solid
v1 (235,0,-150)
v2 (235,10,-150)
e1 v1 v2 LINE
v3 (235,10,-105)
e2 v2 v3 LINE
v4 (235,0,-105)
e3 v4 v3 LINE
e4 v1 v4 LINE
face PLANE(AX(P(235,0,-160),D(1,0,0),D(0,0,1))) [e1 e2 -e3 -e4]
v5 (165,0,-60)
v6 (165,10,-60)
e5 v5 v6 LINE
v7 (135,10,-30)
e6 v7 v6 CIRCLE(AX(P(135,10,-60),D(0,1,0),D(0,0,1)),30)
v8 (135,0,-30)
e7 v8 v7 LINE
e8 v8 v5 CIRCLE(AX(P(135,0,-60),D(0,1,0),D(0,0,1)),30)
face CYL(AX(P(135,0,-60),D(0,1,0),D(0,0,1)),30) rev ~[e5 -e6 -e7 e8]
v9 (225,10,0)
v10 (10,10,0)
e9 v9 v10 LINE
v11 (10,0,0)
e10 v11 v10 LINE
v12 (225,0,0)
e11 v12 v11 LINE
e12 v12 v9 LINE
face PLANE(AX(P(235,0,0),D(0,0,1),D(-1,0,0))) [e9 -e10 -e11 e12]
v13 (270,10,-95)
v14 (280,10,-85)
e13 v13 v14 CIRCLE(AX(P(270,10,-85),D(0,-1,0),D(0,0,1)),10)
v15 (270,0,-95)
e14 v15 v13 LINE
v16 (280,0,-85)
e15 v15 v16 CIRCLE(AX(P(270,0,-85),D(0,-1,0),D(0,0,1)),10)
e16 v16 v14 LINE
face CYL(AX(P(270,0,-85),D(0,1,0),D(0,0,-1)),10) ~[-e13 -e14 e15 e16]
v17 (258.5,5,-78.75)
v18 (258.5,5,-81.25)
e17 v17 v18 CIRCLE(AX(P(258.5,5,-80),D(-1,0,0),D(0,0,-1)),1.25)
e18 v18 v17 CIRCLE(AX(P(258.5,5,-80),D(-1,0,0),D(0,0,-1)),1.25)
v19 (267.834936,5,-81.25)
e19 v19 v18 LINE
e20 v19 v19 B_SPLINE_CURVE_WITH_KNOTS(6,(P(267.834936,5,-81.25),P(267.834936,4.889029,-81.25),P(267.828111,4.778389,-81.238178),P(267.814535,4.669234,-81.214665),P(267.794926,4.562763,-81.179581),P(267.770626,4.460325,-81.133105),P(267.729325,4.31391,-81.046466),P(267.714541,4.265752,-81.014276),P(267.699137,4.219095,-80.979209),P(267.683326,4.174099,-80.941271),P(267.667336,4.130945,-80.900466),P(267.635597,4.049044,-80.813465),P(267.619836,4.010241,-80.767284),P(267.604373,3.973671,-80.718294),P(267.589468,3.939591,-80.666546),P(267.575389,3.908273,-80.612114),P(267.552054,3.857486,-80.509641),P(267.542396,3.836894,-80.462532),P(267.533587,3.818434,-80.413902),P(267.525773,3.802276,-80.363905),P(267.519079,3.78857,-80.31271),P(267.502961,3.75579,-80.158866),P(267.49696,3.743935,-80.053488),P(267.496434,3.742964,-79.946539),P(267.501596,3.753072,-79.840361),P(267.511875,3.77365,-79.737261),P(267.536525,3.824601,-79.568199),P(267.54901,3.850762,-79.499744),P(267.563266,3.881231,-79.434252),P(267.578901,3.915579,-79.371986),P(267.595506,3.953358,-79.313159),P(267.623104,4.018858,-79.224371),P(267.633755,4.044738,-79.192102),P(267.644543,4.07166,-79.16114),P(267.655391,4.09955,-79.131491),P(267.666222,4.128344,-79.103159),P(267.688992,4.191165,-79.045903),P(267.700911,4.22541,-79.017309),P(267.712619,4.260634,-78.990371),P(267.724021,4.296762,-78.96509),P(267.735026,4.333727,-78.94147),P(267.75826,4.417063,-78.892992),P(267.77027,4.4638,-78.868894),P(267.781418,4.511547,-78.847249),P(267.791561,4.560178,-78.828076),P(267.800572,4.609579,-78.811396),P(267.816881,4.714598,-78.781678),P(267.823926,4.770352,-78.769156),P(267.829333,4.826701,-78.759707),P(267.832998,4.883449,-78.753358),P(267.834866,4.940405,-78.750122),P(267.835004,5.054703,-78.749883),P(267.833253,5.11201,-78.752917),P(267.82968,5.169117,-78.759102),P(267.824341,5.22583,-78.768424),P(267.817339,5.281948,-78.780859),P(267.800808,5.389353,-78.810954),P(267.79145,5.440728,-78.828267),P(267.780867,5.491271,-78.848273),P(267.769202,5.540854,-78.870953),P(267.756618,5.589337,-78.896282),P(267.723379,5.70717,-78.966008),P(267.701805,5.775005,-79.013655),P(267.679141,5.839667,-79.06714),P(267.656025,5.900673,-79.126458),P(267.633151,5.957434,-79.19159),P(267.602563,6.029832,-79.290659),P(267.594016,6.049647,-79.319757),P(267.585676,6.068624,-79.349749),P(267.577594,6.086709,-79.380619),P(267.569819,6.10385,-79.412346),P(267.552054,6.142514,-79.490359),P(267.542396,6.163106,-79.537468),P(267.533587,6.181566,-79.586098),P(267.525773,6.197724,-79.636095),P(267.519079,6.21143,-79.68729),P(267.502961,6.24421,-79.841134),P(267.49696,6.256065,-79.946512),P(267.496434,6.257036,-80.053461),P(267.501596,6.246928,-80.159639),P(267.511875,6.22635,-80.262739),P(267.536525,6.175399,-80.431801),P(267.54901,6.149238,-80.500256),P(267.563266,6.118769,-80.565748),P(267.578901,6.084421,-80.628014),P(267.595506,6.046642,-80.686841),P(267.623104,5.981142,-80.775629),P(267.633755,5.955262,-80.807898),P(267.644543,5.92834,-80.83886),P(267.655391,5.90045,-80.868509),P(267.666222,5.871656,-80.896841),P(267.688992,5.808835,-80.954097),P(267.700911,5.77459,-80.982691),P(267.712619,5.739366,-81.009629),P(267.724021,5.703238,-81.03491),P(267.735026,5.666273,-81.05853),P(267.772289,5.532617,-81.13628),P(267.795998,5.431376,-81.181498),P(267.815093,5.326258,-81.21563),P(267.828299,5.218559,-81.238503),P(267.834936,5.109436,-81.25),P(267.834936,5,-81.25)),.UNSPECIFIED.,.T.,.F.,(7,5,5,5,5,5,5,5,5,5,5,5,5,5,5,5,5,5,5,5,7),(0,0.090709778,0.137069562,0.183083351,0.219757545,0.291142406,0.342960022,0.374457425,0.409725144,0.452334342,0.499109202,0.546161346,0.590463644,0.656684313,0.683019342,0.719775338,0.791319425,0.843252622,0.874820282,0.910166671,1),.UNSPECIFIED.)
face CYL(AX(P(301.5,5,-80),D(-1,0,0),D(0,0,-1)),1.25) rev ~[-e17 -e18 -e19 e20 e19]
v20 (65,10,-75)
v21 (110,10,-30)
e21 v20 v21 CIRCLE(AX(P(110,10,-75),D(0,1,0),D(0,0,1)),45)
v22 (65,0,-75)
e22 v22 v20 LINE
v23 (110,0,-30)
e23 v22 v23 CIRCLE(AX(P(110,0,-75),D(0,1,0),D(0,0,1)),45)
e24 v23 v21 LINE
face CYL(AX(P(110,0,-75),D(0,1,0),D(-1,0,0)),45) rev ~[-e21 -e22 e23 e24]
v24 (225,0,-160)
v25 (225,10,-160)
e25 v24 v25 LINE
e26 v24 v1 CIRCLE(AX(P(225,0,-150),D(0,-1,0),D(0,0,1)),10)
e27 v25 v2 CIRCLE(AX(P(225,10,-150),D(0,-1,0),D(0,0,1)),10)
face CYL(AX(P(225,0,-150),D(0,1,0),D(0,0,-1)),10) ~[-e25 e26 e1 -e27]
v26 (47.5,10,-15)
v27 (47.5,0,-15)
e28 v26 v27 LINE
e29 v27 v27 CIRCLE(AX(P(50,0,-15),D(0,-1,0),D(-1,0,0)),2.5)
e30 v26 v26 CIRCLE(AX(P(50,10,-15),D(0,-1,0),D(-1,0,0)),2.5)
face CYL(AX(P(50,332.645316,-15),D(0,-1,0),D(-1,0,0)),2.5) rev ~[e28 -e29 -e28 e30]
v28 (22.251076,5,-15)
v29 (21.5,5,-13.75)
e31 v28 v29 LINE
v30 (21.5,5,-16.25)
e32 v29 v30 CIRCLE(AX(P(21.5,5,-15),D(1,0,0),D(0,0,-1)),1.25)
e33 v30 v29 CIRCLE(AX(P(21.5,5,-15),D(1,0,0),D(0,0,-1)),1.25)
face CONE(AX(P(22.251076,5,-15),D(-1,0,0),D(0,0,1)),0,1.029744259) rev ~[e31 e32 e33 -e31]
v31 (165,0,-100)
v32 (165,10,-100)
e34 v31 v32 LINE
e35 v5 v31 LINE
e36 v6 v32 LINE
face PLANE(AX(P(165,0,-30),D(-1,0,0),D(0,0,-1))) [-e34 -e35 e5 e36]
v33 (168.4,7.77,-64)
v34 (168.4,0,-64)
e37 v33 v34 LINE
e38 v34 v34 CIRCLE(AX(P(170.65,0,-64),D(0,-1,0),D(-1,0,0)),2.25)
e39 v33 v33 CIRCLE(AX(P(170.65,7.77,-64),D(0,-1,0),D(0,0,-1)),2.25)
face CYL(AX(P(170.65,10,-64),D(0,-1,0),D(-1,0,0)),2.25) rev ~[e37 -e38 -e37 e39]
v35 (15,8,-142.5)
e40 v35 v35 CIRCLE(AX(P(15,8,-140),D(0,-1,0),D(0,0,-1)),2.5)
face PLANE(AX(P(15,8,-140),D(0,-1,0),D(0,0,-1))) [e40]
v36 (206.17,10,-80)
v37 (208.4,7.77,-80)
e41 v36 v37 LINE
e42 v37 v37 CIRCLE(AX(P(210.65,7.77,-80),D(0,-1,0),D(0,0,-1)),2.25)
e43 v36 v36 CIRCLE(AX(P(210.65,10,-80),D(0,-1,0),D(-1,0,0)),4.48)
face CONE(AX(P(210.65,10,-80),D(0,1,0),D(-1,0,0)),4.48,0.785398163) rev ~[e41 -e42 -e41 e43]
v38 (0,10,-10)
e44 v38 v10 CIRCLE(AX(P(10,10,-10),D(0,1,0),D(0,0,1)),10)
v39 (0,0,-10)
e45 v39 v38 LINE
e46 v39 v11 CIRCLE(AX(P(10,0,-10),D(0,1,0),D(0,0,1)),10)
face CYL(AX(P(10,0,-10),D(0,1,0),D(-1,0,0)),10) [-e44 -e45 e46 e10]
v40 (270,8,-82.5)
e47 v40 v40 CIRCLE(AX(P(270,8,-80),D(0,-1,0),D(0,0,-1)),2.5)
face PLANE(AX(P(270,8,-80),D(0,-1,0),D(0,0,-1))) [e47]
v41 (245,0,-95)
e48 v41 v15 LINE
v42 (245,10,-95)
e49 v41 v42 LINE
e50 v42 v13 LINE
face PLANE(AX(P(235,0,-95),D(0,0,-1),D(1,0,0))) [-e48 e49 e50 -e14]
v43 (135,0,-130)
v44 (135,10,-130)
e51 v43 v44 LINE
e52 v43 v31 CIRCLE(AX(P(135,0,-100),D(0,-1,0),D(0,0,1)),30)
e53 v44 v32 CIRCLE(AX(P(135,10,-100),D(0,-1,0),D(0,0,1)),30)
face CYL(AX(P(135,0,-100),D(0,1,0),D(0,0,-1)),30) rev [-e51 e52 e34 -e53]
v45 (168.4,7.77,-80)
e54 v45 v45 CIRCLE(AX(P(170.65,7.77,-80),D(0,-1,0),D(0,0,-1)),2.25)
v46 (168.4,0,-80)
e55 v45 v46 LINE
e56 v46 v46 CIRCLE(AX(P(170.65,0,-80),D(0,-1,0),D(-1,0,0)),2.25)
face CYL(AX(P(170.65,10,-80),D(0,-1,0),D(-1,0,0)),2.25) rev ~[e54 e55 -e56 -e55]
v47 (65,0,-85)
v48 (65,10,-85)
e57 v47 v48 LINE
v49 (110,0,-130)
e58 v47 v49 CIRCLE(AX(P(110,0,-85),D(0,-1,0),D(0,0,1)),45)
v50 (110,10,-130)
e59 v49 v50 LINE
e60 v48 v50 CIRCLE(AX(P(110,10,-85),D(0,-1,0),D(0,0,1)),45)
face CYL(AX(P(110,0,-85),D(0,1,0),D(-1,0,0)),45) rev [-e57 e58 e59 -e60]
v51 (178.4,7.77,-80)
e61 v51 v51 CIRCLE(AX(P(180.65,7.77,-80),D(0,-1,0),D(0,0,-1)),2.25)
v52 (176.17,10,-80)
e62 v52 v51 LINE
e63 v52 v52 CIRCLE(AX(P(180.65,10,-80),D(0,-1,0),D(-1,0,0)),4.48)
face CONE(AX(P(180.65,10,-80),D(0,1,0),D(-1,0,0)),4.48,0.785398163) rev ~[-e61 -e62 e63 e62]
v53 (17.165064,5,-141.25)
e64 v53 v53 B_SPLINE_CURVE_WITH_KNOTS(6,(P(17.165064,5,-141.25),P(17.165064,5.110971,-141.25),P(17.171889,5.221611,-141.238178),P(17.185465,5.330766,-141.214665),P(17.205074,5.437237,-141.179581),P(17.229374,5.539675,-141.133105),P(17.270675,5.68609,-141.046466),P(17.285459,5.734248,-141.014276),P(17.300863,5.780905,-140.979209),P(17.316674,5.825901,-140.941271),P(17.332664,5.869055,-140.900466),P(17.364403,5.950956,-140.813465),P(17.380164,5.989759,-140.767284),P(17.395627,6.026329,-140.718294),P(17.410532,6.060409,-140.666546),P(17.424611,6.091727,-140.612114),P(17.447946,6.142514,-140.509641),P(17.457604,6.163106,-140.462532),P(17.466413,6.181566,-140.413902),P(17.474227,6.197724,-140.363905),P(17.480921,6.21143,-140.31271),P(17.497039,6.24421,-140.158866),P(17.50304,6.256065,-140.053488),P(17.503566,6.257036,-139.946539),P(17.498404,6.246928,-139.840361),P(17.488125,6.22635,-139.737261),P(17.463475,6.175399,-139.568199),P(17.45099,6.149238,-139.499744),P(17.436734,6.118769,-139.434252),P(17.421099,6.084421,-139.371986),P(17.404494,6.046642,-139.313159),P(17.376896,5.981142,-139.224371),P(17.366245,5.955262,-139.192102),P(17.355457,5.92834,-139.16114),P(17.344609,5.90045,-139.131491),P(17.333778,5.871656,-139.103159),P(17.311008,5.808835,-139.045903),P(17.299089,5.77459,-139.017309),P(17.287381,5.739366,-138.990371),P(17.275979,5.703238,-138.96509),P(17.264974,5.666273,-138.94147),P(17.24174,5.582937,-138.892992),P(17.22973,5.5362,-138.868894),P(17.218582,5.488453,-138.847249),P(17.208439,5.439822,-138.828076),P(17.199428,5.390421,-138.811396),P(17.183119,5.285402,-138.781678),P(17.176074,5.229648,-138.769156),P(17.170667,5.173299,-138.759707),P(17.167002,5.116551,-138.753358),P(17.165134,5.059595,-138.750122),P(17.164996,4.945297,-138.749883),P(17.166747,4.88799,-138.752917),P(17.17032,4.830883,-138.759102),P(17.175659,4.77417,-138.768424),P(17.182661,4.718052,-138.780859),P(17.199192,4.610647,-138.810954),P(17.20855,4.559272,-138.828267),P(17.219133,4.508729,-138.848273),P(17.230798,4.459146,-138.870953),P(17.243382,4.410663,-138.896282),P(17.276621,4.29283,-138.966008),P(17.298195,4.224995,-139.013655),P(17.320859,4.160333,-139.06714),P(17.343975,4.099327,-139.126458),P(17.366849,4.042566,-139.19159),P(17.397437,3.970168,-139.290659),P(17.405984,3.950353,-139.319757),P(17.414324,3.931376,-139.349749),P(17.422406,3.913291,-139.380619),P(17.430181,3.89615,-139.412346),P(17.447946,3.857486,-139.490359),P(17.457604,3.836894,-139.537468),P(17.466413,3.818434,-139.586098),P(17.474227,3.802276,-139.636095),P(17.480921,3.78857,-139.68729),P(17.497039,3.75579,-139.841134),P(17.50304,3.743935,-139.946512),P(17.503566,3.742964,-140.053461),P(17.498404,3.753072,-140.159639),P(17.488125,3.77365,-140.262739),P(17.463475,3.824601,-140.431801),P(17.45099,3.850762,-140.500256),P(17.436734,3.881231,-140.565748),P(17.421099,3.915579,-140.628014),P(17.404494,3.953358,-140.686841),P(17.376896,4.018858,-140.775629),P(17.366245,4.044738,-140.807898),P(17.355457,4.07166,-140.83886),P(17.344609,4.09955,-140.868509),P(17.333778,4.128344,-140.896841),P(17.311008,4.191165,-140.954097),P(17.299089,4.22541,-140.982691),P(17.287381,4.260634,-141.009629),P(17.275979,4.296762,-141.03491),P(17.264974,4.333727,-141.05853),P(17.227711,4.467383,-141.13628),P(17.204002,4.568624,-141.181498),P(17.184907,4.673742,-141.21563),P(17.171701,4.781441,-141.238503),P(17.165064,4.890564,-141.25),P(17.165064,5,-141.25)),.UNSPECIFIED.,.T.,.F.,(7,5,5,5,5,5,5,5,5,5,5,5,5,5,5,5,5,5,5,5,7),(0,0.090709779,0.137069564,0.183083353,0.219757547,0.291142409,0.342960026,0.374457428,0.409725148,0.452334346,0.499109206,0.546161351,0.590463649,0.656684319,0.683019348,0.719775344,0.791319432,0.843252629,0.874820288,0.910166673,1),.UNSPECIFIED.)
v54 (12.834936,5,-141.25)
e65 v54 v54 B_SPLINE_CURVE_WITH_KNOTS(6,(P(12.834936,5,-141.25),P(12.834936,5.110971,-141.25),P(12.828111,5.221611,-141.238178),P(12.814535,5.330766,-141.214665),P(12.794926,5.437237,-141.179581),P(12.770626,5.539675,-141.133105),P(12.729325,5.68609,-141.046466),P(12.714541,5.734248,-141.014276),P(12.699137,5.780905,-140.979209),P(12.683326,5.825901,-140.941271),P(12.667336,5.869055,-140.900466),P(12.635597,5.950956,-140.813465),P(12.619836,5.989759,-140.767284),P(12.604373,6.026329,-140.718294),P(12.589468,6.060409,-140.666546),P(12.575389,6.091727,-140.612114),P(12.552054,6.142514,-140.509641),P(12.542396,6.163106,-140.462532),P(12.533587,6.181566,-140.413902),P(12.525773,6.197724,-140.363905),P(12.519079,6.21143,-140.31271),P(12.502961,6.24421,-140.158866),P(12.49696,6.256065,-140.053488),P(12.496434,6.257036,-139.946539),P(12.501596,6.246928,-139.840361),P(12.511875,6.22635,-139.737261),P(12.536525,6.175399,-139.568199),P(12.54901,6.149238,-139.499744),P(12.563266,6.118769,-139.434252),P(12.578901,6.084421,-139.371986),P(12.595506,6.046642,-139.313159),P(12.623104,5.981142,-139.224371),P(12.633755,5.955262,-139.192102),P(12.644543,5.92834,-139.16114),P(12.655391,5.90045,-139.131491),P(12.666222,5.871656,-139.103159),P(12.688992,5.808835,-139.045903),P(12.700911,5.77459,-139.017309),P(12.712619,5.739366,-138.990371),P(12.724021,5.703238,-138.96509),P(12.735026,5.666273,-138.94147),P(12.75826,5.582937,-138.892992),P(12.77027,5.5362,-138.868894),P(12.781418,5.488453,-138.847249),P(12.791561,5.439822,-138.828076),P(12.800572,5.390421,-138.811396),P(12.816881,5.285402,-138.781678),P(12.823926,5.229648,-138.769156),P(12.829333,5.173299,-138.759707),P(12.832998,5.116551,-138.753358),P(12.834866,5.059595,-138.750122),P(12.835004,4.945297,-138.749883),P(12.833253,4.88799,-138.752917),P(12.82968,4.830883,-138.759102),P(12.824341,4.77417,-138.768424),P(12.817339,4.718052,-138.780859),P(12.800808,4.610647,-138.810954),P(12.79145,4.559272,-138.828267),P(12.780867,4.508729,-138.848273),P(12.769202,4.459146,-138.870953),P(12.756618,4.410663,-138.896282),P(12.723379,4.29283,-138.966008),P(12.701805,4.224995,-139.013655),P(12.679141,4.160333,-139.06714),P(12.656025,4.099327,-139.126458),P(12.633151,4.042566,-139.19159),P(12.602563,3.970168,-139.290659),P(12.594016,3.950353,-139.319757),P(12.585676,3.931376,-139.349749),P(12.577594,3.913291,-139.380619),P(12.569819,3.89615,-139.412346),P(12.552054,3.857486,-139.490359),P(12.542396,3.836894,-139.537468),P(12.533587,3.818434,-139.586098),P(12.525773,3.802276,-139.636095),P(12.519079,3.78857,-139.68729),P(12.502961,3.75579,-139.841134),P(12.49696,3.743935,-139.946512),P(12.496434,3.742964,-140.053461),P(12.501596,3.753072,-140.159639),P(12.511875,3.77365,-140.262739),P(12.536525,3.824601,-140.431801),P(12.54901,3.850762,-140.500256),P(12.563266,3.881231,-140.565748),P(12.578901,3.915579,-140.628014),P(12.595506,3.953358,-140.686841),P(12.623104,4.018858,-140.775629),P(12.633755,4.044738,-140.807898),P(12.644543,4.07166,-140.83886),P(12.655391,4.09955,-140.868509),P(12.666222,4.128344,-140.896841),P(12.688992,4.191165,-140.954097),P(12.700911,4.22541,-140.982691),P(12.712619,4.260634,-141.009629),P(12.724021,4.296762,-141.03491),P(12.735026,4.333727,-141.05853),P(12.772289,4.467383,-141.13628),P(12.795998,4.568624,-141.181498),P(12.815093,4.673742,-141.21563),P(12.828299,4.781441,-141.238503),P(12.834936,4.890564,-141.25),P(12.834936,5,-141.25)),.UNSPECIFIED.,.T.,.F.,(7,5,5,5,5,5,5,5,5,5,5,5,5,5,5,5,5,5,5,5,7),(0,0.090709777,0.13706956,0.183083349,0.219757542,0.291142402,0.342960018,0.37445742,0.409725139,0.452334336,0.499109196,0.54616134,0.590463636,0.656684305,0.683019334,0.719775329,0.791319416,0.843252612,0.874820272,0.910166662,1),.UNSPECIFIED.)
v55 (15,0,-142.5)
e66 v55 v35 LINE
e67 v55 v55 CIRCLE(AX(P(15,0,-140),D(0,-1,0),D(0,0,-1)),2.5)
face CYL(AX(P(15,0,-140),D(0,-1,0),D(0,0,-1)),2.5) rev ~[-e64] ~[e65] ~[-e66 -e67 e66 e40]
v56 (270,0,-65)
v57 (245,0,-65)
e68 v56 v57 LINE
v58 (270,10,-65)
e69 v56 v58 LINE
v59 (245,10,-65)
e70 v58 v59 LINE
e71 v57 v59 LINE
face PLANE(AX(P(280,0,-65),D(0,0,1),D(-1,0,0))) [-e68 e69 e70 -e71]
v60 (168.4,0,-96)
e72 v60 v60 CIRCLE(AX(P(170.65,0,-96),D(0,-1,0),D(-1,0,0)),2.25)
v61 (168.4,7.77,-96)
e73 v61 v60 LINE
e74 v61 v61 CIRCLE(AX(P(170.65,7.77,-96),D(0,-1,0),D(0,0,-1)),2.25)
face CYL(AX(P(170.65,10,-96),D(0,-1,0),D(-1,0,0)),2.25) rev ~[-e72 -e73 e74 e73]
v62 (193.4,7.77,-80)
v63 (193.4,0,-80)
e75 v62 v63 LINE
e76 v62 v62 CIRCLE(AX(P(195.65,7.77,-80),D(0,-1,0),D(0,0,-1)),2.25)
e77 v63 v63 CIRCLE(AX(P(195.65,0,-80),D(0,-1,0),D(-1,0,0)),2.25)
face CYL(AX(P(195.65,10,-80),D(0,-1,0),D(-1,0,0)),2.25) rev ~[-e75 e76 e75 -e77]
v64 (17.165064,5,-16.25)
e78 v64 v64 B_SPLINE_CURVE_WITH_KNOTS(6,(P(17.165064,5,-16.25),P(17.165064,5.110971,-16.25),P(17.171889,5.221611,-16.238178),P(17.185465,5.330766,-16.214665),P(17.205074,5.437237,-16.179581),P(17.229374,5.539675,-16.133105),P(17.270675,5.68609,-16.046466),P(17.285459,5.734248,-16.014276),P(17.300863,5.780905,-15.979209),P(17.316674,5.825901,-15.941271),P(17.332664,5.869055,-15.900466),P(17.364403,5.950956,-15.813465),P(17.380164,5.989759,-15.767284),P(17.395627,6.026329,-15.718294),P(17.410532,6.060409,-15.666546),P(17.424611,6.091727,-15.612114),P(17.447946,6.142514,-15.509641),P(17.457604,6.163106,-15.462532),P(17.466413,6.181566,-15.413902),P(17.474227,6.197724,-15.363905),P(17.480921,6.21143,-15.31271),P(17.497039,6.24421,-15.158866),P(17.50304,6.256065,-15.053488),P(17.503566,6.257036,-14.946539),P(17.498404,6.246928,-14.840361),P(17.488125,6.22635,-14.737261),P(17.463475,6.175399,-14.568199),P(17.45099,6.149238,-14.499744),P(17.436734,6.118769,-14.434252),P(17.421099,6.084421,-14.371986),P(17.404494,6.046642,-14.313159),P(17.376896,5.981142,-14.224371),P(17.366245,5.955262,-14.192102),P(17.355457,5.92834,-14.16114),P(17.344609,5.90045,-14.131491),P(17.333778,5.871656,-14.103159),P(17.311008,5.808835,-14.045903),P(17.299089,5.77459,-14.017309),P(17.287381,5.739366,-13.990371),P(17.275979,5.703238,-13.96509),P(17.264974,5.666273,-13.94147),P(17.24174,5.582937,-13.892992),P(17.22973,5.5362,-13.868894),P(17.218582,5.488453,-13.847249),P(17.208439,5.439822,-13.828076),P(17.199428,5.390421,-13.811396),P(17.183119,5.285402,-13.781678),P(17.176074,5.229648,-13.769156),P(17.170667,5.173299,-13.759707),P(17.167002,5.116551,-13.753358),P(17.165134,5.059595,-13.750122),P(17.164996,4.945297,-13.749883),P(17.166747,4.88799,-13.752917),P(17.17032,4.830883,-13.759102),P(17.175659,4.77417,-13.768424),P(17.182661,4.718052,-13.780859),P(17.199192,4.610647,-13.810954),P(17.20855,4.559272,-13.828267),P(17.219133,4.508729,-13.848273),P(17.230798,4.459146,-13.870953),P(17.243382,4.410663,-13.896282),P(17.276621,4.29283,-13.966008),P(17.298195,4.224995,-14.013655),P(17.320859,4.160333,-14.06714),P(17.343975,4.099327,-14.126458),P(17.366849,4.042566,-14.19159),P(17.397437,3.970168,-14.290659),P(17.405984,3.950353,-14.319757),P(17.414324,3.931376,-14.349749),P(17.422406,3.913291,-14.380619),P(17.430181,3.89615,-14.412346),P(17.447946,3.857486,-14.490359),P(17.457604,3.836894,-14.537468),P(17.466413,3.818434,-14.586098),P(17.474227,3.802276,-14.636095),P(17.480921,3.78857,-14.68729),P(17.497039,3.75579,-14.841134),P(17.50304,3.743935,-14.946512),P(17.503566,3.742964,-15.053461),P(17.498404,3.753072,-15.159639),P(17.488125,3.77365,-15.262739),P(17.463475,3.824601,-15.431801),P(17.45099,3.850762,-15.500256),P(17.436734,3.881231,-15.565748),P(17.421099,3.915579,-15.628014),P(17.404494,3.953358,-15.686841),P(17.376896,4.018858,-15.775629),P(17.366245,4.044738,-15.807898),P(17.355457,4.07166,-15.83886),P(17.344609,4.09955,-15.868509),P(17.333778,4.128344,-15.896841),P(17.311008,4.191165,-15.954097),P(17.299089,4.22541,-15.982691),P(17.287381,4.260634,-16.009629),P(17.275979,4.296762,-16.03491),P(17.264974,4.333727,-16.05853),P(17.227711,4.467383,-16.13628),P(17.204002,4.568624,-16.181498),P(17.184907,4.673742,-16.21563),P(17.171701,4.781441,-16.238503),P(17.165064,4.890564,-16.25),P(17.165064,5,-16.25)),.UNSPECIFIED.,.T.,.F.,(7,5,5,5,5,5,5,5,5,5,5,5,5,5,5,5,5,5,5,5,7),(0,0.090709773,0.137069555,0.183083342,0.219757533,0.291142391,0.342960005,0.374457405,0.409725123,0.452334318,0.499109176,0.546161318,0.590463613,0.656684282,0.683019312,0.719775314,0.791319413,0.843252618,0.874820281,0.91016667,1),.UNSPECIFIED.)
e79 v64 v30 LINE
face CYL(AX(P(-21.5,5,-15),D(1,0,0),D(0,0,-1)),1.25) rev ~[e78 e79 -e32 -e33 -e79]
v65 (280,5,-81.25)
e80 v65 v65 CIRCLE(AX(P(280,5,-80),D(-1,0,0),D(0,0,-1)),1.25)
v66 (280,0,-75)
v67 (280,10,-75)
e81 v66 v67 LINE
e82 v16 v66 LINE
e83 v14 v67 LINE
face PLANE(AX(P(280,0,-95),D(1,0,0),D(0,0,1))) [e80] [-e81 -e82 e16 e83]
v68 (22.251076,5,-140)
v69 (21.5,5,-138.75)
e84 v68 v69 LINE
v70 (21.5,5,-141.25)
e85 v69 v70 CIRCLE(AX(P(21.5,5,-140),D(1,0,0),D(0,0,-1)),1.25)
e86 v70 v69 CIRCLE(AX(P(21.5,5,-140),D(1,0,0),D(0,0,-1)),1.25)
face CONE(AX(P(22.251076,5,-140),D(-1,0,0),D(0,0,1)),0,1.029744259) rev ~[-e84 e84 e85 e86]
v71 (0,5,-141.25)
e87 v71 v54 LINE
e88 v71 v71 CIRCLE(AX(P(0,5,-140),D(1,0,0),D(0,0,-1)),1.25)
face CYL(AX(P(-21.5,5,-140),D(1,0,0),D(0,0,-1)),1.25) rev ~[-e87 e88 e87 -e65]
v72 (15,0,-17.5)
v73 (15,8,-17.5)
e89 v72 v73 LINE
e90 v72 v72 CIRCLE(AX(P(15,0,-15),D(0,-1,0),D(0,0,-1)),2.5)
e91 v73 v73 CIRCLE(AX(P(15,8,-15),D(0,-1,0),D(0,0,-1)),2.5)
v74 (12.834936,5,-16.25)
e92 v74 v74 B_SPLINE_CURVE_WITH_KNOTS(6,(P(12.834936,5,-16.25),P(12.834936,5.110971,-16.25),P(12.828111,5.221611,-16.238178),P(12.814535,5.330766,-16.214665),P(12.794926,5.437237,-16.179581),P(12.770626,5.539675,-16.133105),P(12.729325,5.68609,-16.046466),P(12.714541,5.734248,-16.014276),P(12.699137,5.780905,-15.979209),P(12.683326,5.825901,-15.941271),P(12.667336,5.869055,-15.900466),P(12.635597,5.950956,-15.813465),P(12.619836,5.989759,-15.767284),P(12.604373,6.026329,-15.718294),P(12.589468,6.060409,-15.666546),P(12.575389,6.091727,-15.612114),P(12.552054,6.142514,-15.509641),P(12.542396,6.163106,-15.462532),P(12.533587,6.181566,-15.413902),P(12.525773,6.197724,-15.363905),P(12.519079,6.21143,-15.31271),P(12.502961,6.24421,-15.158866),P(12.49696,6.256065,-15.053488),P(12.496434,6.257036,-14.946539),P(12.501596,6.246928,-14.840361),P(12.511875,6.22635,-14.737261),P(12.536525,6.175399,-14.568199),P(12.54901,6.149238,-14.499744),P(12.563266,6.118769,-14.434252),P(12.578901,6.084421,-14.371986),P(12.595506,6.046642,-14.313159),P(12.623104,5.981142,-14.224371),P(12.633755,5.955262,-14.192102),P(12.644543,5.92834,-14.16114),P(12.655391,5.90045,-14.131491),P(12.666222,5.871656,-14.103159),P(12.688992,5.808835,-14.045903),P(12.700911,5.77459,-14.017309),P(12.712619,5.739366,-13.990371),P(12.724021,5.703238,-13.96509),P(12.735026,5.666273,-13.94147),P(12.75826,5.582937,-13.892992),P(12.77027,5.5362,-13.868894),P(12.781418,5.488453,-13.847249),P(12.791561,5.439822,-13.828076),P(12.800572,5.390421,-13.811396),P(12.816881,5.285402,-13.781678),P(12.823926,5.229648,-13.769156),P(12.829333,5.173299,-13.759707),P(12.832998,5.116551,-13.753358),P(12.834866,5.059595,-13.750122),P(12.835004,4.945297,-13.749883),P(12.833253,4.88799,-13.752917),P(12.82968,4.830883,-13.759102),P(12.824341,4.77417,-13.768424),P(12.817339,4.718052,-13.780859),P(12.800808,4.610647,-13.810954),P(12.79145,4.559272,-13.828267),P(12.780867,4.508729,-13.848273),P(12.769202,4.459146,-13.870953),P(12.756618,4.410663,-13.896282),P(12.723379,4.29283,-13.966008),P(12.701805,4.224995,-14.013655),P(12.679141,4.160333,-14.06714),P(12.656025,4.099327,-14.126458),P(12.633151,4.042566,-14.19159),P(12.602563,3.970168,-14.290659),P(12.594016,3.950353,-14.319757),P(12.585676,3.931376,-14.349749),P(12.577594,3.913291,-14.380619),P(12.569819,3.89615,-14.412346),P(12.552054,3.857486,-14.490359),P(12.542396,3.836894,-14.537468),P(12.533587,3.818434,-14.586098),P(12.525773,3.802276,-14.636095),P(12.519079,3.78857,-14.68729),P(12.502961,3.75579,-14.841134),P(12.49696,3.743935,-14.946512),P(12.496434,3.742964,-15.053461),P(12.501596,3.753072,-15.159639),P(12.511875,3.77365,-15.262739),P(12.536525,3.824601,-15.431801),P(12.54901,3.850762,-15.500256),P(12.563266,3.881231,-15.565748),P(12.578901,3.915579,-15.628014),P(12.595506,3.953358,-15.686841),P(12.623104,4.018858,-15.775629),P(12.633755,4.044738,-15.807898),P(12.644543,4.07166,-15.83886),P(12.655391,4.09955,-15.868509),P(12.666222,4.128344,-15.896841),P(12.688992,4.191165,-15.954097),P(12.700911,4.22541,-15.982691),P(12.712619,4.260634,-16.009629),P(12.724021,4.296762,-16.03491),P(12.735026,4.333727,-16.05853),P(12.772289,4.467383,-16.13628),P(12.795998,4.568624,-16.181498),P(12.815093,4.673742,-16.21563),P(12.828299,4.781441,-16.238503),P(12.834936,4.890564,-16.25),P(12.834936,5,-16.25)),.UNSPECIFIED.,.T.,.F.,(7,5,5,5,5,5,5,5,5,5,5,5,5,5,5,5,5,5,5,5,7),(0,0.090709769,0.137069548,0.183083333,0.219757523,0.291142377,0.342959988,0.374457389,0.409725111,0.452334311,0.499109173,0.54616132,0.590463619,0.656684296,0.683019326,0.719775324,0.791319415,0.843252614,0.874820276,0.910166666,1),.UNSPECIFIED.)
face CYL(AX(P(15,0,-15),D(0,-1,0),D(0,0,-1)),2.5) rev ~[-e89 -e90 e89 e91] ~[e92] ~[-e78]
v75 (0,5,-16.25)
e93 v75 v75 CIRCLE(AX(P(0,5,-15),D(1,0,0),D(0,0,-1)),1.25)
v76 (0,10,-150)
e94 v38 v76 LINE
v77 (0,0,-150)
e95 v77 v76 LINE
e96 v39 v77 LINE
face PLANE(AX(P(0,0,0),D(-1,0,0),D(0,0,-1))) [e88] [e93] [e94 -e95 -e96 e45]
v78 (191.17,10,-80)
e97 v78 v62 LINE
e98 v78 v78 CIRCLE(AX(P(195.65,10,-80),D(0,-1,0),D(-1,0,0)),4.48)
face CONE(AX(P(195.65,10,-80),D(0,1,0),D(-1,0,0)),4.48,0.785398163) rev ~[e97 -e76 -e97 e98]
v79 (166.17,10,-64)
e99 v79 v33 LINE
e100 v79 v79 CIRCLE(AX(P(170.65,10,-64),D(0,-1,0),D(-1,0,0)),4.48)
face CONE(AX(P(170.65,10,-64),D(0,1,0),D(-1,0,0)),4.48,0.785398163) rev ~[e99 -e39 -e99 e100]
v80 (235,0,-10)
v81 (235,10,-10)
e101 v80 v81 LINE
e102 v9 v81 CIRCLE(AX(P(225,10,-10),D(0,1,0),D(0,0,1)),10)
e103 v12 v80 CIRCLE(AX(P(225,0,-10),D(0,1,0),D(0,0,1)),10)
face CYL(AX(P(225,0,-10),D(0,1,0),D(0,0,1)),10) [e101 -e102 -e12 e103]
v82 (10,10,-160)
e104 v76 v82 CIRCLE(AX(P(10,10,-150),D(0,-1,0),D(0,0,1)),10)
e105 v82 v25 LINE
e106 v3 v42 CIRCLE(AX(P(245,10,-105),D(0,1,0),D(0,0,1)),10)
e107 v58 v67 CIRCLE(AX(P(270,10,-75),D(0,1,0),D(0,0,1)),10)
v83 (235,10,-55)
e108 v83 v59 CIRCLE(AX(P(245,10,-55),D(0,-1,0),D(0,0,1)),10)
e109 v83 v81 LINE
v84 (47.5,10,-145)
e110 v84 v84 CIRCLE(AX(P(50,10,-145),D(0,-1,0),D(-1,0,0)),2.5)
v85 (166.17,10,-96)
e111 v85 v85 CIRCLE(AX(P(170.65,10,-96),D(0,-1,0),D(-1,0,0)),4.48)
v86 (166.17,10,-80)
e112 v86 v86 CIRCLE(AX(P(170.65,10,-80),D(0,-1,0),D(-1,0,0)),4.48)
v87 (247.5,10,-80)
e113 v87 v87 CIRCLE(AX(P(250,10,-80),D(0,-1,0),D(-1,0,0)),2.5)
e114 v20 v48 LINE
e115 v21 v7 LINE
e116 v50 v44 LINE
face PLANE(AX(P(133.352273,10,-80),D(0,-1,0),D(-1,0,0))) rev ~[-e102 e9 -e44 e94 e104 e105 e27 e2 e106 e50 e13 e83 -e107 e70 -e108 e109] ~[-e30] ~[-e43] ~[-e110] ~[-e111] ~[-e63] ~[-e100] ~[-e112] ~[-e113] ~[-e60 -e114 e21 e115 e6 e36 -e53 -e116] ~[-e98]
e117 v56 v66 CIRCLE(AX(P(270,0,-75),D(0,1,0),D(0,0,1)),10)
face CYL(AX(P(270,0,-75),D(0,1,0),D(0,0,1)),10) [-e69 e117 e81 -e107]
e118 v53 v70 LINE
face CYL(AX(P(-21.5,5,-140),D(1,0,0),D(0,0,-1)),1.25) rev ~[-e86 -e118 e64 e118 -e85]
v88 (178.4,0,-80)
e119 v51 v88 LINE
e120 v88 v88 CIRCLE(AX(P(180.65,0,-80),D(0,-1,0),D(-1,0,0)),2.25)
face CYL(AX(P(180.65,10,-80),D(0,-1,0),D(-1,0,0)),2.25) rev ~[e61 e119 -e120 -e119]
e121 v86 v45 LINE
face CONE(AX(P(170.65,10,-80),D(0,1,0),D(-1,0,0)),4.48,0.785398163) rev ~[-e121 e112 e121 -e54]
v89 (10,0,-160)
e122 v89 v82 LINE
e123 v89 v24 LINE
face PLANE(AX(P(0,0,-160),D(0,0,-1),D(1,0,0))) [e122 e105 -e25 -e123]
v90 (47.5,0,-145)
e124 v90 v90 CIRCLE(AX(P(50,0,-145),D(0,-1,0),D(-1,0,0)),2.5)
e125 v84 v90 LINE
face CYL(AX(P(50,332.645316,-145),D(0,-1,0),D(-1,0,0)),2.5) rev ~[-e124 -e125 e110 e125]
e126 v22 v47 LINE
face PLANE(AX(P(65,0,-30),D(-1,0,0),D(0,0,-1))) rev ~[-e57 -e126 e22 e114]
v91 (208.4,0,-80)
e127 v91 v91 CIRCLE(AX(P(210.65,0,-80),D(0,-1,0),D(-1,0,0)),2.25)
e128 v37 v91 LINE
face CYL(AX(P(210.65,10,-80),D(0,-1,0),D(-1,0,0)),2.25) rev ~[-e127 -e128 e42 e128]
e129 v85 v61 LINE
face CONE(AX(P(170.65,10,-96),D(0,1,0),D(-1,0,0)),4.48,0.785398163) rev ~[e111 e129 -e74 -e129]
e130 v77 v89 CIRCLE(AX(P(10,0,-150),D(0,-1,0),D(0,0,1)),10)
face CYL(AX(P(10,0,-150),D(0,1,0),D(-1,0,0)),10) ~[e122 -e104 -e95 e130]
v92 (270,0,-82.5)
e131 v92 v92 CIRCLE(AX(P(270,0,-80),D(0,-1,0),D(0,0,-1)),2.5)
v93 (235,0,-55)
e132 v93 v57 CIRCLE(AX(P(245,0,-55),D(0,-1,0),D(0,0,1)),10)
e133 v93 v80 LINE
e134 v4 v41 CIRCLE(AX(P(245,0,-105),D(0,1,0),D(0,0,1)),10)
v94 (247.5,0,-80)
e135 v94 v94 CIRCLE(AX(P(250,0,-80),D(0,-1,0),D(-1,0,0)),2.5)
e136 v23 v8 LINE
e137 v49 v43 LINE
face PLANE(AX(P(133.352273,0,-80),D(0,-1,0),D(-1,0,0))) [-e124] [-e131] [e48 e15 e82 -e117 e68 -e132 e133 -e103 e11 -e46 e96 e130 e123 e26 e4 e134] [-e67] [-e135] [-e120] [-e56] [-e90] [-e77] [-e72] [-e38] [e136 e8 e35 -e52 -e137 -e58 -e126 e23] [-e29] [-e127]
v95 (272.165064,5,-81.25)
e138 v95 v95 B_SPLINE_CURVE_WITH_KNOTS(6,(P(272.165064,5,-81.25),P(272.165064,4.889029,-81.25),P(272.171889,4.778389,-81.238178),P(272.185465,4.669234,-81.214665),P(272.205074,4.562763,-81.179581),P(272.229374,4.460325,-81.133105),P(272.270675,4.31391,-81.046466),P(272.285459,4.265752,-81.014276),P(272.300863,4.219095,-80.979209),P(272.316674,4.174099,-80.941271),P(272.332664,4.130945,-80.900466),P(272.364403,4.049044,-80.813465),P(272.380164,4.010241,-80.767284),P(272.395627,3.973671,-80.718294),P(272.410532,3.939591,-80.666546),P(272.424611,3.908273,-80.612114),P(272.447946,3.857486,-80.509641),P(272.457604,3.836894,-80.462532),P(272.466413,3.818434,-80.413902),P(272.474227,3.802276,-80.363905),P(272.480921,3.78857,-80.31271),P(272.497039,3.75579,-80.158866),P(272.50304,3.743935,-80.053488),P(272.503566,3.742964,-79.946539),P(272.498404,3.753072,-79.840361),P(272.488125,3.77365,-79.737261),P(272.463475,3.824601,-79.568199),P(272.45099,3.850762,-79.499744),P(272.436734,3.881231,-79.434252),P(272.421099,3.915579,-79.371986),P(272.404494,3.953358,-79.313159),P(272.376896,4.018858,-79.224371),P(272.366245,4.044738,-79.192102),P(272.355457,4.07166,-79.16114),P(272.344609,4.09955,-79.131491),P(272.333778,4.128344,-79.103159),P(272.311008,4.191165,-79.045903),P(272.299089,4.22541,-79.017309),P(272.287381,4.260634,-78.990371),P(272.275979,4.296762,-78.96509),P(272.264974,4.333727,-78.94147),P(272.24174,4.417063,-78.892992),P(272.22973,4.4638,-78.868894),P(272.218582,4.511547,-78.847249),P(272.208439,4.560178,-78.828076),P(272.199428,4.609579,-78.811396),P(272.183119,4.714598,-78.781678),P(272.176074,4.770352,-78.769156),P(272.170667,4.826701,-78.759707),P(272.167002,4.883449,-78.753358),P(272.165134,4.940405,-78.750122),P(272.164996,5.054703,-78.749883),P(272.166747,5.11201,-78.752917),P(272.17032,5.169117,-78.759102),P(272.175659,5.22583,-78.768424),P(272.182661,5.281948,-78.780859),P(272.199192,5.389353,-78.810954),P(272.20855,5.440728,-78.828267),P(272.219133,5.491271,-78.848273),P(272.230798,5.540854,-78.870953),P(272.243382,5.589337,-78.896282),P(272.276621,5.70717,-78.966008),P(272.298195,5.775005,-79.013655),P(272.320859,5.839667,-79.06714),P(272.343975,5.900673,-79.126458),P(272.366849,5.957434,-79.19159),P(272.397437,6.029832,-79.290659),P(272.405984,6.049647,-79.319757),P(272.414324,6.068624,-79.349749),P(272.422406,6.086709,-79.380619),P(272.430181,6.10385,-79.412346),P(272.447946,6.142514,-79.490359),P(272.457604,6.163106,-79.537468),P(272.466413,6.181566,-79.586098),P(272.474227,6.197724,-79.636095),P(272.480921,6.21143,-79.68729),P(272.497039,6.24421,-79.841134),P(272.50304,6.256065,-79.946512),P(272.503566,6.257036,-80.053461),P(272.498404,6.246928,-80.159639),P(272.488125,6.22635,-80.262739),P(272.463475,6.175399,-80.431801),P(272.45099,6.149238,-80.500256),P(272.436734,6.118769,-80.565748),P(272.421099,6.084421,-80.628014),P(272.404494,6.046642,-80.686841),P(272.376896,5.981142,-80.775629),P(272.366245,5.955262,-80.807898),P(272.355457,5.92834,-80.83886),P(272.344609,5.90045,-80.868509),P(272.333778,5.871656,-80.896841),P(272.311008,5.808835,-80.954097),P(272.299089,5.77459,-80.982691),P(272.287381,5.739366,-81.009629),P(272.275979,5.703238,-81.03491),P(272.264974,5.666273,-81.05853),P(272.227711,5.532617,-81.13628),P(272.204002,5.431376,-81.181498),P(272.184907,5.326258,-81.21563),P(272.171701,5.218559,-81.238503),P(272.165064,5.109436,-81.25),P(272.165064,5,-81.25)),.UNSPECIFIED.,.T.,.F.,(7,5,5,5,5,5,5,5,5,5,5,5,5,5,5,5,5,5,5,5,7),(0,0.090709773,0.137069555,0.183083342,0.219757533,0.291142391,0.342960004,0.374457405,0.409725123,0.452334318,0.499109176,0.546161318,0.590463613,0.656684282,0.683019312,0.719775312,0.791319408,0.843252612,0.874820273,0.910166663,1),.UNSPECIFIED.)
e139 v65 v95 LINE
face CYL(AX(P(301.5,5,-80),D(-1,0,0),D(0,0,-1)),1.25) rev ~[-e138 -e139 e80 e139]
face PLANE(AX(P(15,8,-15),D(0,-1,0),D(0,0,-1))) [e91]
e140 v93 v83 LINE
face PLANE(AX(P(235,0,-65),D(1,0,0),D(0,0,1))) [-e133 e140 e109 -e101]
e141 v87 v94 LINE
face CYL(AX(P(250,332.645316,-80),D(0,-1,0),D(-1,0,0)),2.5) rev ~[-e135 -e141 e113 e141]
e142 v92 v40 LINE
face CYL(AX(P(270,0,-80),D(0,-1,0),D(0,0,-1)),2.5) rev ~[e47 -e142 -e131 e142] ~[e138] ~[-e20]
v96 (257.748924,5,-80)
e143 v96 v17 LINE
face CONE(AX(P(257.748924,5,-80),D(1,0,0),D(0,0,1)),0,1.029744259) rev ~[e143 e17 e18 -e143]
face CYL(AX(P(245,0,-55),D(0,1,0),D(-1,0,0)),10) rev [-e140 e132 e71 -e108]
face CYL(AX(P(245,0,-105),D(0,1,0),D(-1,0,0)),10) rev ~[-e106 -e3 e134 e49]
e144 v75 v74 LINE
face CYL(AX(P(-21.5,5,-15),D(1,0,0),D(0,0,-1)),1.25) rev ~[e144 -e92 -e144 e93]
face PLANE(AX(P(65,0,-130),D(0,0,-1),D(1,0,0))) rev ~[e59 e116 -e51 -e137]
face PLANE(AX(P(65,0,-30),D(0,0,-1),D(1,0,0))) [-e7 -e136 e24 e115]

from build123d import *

# Parameters (mm, degrees)
SKETCH1_R                                            = 1.5
SKETCH1_W                                            = 100
SKETCH1_H                                            = 100
BOSS_EXTRUDE1_DEPTH                                  = 10
FILLET1_R                                            = 10
CSK_FOR_M4_HEX_SOCKET_COUNTERSUNK_CAP_SC_D           = 4.5
CSK_FOR_M4_HEX_SOCKET_COUNTERSUNK_CAP_SC_CSINK_D     = 8.96
CSK_FOR_M4_HEX_SOCKET_COUNTERSUNK_CAP_SC_CSINK_ANGLE = 90
SKETCH14_R                                           = 2.5
CUT_EXTRUDE1_DEPTH                                   = 8
FILLET2_R                                            = 45
M6_TAPPED_HOLE1_D                                    = 5
M3_TAPPED_HOLE2_D                                    = 2.5
M3_TAPPED_HOLE2_DEPTH                                = 21.5
M3_TAPPED_HOLE2_TIP                                  = 0.751075774
M3_TAPPED_HOLE1_D                                    = 2.5
M3_TAPPED_HOLE1_DEPTH                                = 21.5
M3_TAPPED_HOLE1_TIP                                  = 0.751075774
FILLET3_R                                            = 30


with BuildPart() as part:
    # Sketch1 → Boss-Extrude1 (new body)
    with BuildSketch(Plane(origin=(0, 0, 0), x_dir=(1, 0, 0), z_dir=(0, 1, 0))):
        Polygon((0, 0), (0, 160), (235, 160), (235, 95), (280, 95), (280, 65), (235, 65), (235, 0), align=None)
        with Locations(Location((50, 145, 0), (0, 0, 270))):
            Circle(SKETCH1_R, mode=Mode.SUBTRACT)
        with Locations(Location((50, 15, 0), (0, 0, 270))):
            Circle(SKETCH1_R, mode=Mode.SUBTRACT)
        with Locations(Location((250, 80, 0), (0, 0, 270))):
            Circle(SKETCH1_R, mode=Mode.SUBTRACT)
        with Locations((115, 80)):
            Rectangle(SKETCH1_W, SKETCH1_H, mode=Mode.SUBTRACT)
    extrude(amount=BOSS_EXTRUDE1_DEPTH)

    # Fillet1
    fillet1_edges = [part.edges().sort_by_distance(p)[0] for p in [
        (0, 5, 0),
        (0, 5, -160),
        (235, 5, -160),
        (235, 5, -95),
        (280, 5, -95),
        (280, 5, -65),
        (235, 5, -65),
        (235, 5, 0),
    ]]
    fillet(fillet1_edges, radius=FILLET1_R)

    # CSK for M4 Hex Socket Countersunk Cap Screw1 (through all)
    with Locations(Plane(origin=(0, 10, 0), x_dir=(1, 0, 0), z_dir=(0, 1, 0))):
        with Locations((170.65, 80), (180.65, 80), (195.65, 80), (210.65, 80), (170.65, 96), (170.65, 64)):
            CounterSinkHole(CSK_FOR_M4_HEX_SOCKET_COUNTERSUNK_CAP_SC_D / 2, CSK_FOR_M4_HEX_SOCKET_COUNTERSUNK_CAP_SC_CSINK_D / 2, counter_sink_angle=CSK_FOR_M4_HEX_SOCKET_COUNTERSUNK_CAP_SC_CSINK_ANGLE)

    # Sketch14 → Cut-Extrude1 (cut)
    with BuildSketch(Plane.XZ):
        with Locations(Location((270, -80, 0), (0, 0, 270))):
            Circle(SKETCH14_R)
        with Locations(Location((15, -15, 0), (0, 0, 270))):
            Circle(SKETCH14_R)
        with Locations(Location((15, -140, 0), (0, 0, 270))):
            Circle(SKETCH14_R)
    extrude(amount=-CUT_EXTRUDE1_DEPTH, mode=Mode.SUBTRACT)

    # Fillet2
    fillet2_edges = [part.edges().sort_by_distance(p)[0] for p in [
        (65, 5, -130),
        (65, 5, -30),
    ]]
    fillet(fillet2_edges, radius=FILLET2_R)

    # M6 Tapped Hole1 (through all)
    with Locations(Plane(origin=(0, 10, 0), x_dir=(1, 0, 0), z_dir=(0, 1, 0))):
        with Locations((50, 145), (250, 80), (50, 15)):
            Hole(M6_TAPPED_HOLE1_D / 2)

    # M3 Tapped Hole2
    with Locations(Plane(origin=(280, 5, -80), x_dir=(0, 0, 1), z_dir=(1, 0, 0))):
        with Locations((0, 0)):
            Hole(M3_TAPPED_HOLE2_D / 2, depth=M3_TAPPED_HOLE2_DEPTH)
            with Locations((0, 0, -(M3_TAPPED_HOLE2_DEPTH + M3_TAPPED_HOLE2_TIP / 2))):  # 118° drill point
                Cone(0, M3_TAPPED_HOLE2_D / 2, M3_TAPPED_HOLE2_TIP, mode=Mode.SUBTRACT)

    # M3 Tapped Hole1
    with Locations(Plane.ZY):
        with Locations((-140, 5), (-15, 5)):
            Hole(M3_TAPPED_HOLE1_D / 2, depth=M3_TAPPED_HOLE1_DEPTH)
            with Locations((0, 0, -(M3_TAPPED_HOLE1_DEPTH + M3_TAPPED_HOLE1_TIP / 2))):  # 118° drill point
                Cone(0, M3_TAPPED_HOLE1_D / 2, M3_TAPPED_HOLE1_TIP, mode=Mode.SUBTRACT)

    # Fillet3
    fillet3_edges = [part.edges().sort_by_distance(p)[0] for p in [
        (165, 5, -30),
        (165, 5, -130),
    ]]
    fillet(fillet3_edges, radius=FILLET3_R)


solid = part.part
